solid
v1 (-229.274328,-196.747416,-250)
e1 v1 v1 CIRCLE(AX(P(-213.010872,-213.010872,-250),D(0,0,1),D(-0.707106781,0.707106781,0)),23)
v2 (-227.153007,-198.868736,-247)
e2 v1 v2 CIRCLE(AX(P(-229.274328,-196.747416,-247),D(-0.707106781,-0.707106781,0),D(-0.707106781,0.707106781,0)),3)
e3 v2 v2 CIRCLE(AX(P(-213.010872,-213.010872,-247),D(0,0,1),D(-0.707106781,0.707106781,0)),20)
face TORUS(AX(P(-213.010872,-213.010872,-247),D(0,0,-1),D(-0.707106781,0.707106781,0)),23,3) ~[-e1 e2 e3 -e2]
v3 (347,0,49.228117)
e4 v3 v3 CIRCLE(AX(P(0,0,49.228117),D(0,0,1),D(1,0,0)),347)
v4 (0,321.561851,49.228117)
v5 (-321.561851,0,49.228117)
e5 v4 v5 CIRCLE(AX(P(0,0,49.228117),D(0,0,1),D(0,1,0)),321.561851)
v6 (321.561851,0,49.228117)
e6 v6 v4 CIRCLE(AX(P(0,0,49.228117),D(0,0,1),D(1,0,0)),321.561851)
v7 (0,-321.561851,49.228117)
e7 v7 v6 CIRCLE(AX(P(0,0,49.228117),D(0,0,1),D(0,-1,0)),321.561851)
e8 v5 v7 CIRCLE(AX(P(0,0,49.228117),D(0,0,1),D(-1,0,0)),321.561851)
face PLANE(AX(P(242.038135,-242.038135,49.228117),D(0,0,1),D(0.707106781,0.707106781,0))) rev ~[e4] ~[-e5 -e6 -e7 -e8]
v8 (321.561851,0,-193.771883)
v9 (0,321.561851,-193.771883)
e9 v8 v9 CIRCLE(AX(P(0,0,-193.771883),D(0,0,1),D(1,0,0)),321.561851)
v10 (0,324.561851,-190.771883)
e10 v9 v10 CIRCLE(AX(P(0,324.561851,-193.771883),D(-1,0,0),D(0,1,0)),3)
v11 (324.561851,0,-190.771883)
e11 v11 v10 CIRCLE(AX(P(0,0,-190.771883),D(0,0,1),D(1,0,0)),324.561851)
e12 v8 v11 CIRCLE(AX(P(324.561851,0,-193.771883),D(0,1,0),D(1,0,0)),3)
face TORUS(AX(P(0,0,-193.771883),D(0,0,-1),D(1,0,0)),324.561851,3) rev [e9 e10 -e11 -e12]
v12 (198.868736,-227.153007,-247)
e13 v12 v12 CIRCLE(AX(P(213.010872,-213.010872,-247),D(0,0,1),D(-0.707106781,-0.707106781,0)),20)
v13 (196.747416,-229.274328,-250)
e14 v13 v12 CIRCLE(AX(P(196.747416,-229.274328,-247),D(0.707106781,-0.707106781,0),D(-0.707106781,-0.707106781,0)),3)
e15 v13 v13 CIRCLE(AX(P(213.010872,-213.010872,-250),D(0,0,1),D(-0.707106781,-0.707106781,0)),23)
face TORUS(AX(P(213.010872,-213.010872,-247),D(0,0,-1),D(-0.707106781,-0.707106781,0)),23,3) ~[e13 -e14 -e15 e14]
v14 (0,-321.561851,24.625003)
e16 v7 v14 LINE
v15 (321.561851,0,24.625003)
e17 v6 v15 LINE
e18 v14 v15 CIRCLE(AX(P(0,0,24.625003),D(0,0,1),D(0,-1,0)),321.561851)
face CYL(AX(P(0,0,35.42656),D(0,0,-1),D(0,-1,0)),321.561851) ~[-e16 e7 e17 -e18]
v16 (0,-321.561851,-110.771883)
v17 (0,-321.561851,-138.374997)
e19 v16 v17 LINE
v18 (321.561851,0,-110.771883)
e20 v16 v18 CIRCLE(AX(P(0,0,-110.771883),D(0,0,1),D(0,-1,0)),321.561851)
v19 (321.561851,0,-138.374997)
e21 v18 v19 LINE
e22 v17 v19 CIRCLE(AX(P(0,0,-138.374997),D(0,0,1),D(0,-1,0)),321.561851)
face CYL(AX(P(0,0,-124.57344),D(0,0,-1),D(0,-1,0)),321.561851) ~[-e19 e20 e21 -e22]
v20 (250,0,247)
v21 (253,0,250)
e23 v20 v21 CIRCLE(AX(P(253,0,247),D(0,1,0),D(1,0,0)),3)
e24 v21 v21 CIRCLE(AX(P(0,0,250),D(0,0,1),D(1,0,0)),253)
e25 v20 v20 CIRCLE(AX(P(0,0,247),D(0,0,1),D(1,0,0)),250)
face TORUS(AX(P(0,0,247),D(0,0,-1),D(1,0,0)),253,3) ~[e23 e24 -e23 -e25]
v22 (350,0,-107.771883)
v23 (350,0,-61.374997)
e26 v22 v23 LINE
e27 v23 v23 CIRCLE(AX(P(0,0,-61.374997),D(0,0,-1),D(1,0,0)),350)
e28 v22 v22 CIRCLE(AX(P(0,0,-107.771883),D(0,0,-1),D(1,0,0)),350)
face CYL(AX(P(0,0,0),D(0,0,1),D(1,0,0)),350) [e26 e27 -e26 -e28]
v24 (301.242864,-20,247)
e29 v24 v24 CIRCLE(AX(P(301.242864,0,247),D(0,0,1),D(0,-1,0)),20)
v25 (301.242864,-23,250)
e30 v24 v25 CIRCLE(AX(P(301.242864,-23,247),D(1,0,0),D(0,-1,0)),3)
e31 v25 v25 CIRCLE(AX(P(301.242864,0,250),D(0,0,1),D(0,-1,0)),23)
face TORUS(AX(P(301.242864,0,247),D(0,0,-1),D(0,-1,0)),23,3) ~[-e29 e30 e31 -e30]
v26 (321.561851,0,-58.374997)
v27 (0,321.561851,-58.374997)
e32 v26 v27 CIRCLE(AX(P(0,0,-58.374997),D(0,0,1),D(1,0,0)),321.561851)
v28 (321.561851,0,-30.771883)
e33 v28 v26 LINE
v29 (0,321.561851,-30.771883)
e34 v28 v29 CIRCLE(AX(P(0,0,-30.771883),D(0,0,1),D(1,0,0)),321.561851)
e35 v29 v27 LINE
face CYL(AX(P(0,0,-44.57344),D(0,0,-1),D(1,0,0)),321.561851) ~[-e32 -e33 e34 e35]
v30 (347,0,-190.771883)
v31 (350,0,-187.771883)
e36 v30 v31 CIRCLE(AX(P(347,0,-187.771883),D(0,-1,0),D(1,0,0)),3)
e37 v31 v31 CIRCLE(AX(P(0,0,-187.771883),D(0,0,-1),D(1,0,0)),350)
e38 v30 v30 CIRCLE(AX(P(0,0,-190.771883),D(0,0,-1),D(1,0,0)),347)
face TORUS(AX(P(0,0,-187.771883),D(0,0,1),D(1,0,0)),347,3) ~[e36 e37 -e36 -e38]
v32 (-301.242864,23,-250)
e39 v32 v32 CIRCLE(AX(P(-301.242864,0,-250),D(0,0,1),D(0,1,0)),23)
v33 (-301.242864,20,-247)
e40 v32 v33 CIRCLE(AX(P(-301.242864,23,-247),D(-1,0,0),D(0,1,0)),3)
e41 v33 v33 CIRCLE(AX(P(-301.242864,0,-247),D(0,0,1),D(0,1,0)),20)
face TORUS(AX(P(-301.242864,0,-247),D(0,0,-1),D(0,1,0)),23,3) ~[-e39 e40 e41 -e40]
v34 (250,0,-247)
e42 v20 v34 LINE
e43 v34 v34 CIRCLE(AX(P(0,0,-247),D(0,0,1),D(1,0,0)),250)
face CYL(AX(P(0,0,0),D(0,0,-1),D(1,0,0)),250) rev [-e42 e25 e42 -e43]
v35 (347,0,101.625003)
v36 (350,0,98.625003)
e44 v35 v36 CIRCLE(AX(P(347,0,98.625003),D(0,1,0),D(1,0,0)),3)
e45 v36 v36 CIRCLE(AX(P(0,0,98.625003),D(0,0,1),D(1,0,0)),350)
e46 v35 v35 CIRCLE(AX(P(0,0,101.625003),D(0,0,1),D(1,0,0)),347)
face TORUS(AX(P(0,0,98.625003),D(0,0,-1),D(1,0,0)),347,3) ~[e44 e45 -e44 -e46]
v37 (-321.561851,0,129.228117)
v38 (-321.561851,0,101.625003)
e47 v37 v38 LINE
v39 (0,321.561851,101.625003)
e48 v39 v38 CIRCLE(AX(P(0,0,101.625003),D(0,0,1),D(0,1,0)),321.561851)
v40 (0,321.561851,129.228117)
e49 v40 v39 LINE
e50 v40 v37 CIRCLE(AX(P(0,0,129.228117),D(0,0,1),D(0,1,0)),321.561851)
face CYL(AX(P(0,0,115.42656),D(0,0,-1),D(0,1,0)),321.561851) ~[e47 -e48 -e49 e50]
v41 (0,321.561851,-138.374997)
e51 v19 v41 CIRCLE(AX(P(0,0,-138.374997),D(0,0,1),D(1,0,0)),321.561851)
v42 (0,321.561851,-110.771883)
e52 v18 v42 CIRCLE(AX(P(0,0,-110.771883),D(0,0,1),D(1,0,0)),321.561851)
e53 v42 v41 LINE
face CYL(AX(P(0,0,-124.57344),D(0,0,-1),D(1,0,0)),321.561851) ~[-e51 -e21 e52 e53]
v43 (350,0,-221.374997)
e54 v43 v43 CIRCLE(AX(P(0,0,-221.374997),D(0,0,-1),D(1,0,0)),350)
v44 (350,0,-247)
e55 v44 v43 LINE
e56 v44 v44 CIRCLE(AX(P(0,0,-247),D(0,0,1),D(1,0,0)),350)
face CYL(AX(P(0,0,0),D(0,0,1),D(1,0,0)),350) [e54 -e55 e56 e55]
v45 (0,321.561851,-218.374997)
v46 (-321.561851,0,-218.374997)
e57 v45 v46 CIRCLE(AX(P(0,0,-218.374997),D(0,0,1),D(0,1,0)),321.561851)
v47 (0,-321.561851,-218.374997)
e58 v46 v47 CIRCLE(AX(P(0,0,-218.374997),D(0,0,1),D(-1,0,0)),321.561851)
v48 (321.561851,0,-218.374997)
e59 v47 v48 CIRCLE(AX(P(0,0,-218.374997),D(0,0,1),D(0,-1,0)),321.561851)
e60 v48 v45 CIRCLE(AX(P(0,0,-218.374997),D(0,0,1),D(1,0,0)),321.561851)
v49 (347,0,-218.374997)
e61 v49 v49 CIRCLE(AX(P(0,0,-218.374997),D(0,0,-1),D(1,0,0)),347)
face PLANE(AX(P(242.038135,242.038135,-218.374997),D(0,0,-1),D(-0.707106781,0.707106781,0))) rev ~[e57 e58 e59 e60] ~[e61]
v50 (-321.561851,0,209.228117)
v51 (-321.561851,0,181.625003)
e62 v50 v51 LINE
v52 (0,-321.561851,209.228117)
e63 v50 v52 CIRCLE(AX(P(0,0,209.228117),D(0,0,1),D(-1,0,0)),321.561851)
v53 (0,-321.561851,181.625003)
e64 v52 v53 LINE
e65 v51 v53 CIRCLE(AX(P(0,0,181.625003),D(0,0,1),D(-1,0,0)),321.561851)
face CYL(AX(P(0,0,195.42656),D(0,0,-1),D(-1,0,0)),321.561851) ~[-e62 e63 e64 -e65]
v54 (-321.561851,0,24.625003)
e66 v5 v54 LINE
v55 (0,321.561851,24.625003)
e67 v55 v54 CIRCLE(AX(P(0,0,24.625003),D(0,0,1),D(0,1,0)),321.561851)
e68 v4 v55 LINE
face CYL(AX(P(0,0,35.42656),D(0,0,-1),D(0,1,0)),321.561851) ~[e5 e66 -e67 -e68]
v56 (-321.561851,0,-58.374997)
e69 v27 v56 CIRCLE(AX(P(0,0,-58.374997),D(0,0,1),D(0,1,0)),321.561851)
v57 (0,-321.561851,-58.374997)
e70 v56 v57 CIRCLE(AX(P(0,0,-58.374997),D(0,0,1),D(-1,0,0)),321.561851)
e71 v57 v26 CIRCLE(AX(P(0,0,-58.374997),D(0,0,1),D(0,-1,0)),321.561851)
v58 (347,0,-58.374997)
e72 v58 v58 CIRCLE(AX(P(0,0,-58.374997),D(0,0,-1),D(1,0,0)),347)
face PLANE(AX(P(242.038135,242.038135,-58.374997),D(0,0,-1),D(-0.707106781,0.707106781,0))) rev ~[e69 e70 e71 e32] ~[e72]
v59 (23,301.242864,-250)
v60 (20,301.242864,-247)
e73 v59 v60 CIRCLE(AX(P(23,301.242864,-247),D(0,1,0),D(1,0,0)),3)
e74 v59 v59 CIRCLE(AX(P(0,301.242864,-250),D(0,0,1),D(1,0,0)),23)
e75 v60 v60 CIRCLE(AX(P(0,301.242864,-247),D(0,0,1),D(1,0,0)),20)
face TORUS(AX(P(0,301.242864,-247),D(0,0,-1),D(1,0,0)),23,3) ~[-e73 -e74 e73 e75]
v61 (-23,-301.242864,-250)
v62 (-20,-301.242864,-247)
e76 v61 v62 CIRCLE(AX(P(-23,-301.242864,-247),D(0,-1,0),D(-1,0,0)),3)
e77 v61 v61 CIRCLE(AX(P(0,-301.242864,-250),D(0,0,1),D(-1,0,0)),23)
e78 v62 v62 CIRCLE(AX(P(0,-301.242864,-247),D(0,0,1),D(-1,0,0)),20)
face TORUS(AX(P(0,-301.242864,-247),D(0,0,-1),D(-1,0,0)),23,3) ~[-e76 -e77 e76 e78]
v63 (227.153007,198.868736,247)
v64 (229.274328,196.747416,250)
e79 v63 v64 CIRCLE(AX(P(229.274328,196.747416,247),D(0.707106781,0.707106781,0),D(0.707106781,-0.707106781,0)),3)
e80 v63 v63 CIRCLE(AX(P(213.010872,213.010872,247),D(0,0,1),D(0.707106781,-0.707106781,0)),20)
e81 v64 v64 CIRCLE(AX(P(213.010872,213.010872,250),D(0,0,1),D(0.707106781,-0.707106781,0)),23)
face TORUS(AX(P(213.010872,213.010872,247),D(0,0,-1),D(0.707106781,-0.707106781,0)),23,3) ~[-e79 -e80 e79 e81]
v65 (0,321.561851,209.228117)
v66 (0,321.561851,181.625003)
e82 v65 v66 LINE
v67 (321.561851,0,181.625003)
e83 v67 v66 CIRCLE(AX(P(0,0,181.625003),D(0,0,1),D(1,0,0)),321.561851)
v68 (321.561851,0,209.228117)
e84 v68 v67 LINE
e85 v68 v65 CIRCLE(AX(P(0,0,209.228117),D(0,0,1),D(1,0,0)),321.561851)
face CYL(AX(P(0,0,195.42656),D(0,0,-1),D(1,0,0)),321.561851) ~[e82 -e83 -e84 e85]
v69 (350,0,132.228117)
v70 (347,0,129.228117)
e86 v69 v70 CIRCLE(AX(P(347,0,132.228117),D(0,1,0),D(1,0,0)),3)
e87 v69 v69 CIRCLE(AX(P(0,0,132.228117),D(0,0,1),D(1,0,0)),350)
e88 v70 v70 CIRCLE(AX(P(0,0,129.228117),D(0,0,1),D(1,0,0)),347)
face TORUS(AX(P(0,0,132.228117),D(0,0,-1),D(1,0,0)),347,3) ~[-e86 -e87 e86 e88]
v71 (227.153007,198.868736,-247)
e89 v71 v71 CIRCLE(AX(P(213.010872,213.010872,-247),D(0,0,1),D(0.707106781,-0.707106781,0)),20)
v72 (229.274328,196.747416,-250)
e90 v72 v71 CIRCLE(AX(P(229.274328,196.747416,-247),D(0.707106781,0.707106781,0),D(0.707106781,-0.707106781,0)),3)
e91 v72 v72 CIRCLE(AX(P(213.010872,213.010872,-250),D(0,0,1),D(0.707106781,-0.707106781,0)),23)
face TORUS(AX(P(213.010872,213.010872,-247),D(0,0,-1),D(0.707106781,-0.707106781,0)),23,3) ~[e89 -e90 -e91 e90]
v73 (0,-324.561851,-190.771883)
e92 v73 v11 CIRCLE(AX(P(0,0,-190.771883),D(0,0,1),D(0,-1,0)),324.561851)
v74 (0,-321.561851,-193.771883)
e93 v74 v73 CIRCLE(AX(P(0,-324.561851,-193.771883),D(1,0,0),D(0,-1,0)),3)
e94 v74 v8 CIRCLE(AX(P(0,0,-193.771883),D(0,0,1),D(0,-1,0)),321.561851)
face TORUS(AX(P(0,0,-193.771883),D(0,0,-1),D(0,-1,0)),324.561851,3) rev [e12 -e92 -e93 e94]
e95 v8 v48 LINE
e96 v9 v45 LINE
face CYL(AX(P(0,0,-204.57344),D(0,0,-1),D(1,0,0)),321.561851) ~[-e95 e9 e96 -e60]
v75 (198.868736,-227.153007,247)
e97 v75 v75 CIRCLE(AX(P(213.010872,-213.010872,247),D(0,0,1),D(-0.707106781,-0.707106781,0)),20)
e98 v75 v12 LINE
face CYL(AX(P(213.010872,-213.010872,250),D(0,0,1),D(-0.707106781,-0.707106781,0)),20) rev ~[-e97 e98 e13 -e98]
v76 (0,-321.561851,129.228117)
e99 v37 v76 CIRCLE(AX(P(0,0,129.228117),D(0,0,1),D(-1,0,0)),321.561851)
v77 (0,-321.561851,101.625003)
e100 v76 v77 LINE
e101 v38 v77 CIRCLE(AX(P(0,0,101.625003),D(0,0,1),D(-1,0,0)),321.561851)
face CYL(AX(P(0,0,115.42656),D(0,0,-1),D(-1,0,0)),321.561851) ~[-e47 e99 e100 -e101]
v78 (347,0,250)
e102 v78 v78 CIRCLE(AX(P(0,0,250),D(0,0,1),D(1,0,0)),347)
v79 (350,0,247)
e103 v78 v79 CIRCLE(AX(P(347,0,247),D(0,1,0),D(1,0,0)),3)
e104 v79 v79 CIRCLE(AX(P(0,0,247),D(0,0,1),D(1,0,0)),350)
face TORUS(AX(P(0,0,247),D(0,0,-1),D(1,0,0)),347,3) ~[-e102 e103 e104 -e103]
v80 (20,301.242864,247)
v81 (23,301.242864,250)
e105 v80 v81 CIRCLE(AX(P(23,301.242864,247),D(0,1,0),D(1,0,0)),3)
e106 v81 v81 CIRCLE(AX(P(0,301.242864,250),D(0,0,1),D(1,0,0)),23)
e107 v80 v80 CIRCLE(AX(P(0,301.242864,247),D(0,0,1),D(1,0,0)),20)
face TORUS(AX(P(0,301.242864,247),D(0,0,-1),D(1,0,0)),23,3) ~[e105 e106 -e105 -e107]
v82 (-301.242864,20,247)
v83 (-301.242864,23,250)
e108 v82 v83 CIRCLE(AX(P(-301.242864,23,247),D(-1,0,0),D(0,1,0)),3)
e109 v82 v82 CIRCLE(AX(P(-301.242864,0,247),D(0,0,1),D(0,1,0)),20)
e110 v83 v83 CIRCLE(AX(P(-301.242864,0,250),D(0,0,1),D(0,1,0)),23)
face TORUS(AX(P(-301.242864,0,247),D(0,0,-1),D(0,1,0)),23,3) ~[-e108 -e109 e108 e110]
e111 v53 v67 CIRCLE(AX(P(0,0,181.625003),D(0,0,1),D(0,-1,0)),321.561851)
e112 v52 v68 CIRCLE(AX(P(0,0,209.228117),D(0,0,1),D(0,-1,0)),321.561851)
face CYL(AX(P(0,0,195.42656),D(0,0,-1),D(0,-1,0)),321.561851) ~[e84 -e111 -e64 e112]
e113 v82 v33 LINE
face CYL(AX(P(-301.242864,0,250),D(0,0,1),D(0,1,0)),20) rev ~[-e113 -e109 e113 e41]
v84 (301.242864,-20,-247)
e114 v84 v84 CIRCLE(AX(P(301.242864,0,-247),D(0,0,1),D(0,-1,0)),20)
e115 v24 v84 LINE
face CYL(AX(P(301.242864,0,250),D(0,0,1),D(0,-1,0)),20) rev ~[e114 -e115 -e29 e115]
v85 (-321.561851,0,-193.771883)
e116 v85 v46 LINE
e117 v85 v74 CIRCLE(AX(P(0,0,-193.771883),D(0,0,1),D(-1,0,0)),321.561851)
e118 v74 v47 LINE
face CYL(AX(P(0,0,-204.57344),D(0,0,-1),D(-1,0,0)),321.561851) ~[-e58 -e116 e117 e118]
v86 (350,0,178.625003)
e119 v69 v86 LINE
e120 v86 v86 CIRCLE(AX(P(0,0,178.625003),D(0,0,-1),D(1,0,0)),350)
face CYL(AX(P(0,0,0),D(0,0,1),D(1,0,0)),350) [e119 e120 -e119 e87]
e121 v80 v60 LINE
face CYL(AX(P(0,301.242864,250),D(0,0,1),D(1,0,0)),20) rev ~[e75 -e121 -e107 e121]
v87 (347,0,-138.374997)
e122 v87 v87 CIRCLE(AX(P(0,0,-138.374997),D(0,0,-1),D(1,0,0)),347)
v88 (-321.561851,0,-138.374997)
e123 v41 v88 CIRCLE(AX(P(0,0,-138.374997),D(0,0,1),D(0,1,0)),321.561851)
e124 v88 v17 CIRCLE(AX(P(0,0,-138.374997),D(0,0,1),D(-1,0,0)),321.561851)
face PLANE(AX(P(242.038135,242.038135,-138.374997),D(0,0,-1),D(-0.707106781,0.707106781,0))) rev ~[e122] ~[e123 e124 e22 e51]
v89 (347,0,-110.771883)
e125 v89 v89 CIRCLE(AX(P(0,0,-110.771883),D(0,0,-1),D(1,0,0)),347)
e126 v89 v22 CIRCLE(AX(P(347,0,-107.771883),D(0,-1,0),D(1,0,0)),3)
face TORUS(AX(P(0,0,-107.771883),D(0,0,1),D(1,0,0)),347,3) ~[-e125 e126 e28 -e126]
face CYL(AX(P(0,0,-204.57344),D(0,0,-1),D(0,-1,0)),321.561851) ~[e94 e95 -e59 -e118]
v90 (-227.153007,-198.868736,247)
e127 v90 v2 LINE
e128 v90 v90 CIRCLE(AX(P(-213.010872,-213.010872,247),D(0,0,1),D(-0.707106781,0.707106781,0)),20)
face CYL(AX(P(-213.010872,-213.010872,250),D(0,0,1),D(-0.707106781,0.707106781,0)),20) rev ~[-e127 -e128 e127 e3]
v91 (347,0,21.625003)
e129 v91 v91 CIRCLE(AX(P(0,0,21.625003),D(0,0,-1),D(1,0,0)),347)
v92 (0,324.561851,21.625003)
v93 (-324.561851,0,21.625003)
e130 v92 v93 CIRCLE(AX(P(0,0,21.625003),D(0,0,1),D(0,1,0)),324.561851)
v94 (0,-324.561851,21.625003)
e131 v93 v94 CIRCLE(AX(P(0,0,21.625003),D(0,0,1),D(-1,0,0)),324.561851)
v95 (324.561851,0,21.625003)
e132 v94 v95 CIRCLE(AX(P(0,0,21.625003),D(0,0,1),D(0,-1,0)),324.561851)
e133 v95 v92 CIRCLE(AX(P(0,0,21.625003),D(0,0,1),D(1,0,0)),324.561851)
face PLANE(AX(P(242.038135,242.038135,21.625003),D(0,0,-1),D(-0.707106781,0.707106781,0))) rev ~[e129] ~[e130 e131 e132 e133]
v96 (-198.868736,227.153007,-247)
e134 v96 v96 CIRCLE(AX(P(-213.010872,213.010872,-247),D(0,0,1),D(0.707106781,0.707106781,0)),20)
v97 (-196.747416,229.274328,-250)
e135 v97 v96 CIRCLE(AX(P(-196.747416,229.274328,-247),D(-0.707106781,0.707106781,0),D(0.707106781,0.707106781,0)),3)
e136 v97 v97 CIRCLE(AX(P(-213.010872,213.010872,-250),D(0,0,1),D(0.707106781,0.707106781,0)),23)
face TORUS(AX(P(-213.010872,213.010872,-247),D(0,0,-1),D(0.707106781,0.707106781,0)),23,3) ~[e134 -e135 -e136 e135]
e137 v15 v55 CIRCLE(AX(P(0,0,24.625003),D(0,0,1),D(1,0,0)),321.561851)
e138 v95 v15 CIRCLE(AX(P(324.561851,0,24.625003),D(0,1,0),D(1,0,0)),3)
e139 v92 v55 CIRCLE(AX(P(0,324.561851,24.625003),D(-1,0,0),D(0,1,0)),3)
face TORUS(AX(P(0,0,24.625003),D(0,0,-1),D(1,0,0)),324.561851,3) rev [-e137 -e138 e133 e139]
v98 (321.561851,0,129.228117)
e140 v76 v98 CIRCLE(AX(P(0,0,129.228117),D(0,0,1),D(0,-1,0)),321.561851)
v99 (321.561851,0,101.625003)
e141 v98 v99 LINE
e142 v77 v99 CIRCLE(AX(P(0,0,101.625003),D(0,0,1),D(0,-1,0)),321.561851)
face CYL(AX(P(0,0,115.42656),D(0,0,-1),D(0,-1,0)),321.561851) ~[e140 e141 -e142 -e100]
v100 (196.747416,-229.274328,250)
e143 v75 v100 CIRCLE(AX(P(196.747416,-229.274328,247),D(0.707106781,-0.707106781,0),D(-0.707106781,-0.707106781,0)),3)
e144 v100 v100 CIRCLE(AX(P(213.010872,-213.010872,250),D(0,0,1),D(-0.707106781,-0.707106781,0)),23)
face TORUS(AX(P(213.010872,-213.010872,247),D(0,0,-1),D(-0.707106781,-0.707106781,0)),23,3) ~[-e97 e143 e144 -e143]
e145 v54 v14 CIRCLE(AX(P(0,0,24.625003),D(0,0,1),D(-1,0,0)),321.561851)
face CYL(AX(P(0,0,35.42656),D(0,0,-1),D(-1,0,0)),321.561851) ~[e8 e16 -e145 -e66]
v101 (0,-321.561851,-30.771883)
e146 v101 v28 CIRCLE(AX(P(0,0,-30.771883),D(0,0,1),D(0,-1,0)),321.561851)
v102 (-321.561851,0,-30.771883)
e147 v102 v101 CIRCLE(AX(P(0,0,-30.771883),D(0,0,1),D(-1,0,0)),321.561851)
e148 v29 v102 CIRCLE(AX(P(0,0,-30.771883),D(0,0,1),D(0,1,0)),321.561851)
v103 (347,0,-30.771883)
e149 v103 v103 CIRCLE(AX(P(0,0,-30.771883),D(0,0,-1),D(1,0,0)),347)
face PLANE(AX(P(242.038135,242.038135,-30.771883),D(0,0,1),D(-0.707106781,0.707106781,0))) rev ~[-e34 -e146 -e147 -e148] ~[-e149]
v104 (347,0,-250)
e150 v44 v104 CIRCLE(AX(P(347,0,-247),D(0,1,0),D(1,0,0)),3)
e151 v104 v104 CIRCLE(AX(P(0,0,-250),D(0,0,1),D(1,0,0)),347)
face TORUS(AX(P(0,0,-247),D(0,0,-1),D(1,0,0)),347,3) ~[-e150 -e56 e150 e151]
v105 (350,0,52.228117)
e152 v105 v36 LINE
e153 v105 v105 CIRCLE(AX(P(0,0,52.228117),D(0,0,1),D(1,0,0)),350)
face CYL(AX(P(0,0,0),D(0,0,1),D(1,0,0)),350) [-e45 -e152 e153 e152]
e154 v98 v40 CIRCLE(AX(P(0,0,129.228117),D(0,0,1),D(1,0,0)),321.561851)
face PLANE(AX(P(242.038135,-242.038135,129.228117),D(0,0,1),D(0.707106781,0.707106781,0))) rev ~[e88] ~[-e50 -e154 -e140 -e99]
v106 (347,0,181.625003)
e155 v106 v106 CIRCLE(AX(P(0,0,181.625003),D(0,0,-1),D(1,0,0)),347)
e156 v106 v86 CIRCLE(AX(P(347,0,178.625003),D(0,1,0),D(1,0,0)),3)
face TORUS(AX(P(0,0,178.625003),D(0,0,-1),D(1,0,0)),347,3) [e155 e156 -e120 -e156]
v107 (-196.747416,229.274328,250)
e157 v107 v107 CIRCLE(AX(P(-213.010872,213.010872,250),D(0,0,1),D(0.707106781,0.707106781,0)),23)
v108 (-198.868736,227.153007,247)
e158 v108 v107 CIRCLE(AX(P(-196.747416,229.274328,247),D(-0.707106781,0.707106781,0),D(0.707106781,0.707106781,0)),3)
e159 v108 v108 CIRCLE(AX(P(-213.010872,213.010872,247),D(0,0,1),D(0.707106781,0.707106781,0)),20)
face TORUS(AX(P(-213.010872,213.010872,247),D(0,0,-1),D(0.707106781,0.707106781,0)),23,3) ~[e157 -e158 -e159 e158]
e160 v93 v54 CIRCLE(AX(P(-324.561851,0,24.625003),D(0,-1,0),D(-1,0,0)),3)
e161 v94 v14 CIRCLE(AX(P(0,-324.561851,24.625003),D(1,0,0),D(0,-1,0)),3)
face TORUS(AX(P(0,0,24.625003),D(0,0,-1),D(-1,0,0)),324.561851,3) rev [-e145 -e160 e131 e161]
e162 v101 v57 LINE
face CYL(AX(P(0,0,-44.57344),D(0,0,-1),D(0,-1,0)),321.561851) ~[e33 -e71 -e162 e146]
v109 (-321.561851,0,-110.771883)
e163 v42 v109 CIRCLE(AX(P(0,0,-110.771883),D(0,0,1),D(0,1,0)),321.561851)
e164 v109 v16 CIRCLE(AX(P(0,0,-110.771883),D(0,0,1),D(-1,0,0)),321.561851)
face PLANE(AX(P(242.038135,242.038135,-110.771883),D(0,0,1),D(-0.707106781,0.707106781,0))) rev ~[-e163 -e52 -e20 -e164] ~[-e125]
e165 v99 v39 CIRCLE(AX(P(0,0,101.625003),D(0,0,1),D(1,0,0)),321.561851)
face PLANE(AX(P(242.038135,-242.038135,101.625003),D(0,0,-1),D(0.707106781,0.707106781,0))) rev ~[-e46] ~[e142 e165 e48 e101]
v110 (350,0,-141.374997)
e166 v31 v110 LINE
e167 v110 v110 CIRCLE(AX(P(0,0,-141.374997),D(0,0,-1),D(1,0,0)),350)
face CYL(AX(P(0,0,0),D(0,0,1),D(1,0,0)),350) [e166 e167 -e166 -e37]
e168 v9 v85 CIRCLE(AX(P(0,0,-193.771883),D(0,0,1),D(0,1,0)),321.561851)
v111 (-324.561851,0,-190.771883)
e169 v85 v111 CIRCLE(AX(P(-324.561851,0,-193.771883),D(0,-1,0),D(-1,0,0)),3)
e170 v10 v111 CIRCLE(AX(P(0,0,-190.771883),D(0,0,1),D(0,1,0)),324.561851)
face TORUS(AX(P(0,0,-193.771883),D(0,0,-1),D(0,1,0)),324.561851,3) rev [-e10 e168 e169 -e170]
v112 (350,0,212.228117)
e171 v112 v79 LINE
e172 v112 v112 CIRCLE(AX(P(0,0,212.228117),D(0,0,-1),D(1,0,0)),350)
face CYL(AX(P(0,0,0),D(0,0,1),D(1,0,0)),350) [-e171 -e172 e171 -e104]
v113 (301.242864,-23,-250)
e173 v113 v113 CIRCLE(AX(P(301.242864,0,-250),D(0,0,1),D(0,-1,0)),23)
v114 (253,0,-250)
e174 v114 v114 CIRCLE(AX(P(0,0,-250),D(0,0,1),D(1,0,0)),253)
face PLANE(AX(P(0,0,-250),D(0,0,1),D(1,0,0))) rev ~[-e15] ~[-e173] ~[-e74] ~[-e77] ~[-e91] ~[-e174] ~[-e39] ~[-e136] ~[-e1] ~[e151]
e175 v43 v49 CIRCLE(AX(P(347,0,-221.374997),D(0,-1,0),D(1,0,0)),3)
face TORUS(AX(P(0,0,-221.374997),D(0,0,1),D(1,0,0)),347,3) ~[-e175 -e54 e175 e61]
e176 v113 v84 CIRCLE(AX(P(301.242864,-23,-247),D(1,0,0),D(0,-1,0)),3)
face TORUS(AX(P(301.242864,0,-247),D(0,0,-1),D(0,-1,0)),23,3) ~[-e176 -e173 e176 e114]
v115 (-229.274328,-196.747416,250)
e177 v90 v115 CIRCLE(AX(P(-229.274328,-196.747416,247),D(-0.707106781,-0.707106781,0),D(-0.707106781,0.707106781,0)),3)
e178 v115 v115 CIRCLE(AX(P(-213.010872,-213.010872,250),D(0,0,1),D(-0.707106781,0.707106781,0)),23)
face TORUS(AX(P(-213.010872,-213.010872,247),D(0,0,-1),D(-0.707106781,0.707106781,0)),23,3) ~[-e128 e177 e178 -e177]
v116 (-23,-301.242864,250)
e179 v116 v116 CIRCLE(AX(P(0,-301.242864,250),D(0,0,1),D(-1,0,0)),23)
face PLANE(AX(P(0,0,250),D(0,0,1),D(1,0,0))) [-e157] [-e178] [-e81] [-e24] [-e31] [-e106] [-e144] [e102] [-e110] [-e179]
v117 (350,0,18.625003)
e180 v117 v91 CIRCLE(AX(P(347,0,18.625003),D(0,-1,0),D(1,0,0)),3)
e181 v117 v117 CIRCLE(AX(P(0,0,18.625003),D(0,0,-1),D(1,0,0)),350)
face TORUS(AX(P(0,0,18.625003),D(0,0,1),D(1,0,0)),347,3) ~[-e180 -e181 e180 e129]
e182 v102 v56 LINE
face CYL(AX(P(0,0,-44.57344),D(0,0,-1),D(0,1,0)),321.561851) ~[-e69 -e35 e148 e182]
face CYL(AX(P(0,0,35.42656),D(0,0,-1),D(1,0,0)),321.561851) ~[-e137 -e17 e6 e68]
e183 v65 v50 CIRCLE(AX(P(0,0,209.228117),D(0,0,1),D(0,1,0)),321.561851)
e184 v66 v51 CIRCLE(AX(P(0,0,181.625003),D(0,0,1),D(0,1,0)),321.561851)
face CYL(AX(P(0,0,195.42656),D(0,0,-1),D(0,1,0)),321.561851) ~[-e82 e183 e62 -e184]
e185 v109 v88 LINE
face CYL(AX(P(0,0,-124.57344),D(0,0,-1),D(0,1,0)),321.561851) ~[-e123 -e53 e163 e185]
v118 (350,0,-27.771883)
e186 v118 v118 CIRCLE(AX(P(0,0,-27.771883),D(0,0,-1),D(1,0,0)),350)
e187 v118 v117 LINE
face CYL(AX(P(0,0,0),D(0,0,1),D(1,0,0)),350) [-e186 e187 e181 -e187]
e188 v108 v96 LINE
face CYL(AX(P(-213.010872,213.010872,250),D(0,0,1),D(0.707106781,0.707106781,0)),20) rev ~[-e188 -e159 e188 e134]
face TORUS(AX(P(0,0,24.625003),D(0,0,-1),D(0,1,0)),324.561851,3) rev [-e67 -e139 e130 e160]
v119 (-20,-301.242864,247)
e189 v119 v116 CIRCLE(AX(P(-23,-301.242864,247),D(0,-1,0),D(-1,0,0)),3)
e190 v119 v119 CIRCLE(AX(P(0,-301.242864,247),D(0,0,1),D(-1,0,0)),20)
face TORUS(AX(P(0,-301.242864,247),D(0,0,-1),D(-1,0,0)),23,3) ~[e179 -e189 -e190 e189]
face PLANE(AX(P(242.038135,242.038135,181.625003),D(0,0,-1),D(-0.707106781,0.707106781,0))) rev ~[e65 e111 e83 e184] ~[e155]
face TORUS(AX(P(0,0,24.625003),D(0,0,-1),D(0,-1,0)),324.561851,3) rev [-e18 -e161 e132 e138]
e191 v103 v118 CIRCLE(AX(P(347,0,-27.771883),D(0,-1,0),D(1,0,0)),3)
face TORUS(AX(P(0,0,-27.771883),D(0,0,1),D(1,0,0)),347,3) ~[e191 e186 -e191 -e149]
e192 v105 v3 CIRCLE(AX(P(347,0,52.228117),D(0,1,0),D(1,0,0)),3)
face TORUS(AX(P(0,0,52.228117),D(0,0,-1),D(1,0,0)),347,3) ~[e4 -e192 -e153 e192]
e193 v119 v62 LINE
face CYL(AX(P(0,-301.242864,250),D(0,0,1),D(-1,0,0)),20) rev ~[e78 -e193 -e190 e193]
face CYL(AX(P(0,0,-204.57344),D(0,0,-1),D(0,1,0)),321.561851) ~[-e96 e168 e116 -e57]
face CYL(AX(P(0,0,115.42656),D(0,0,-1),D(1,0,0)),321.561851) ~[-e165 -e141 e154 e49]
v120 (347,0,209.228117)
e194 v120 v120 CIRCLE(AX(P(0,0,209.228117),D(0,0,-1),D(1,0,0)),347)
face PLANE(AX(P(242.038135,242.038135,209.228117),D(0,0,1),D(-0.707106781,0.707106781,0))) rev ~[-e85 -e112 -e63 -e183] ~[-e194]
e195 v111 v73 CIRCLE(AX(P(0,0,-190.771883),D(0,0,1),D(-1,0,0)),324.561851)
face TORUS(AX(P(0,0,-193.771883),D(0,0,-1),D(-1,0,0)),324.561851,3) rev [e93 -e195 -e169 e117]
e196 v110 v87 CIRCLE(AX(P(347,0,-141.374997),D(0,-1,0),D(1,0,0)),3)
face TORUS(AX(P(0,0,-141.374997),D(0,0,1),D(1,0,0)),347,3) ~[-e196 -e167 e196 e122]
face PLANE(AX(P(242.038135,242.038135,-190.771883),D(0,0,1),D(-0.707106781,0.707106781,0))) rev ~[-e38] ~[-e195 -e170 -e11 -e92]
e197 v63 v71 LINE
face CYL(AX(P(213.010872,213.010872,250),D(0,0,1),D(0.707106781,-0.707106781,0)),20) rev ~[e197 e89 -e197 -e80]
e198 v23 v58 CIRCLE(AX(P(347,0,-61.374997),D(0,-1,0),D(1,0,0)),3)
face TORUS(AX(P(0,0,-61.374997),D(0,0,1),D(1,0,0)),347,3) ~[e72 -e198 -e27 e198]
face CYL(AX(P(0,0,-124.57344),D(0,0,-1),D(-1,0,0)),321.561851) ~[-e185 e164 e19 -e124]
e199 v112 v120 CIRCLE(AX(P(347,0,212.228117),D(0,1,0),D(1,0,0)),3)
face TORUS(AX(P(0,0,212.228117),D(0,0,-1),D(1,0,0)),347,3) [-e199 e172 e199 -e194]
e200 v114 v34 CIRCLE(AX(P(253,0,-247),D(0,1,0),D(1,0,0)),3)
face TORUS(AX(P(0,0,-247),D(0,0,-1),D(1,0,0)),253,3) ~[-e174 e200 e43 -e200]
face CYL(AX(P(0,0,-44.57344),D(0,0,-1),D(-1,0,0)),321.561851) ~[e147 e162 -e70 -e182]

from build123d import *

# Parameters (mm, degrees)
SKETCH1_R           = 350
SKETCH1_R_2         = 250
BOSS_EXTRUDE1_DEPTH = 250
SKETCH2_W           = 27.603113623
SKETCH2_H           = 41.463524477
LPATTERN1_COUNT     = 6
LPATTERN1_PITCH     = 80
SKETCH3_R           = 20
CUT_EXTRUDE1_DEPTH  = 500
CIRPATTERN1_COUNT   = 8
FILLET1_R           = 3


with BuildPart() as part:
    # Sketch1 → Boss-Extrude1 (new, symmetric)
    with BuildSketch(Plane.XY):
        Circle(SKETCH1_R)
        Circle(SKETCH1_R_2, mode=Mode.SUBTRACT)
    extrude(amount=BOSS_EXTRUDE1_DEPTH, both=True)

    # Cut-Sweep1: sweep along a curve in space
    with BuildLine() as cut_sweep1_path:
        ThreePointArc((350, 0, 250), (247.487373415, 247.487373415, 250), (0, 350, 250))
        ThreePointArc((0, 350, 250), (-247.487373415, 247.487373415, 250), (-350, 0, 250))
        ThreePointArc((-350, 0, 250), (-247.487373415, -247.487373415, 250), (0, -350, 250))
        ThreePointArc((0, -350, 250), (247.487373415, -247.487373415, 250), (350, 0, 250))
    # Sketch2 → Cut-Sweep1 (sweep, cut)
    with BuildSketch(Plane(origin=(0, 0, 0), x_dir=(0, 0, -1), z_dir=(1, 0, 0))):
        with Locations((-195.42656015, 342.293613499)):
            Rectangle(SKETCH2_W, SKETCH2_H)
    cut_sweep1 = sweep(path=cut_sweep1_path.line, mode=Mode.SUBTRACT)

    # LPattern1: Cut-Sweep1 ×6
    with Locations(*[(0, 0, -i * LPATTERN1_PITCH) for i in range(1, LPATTERN1_COUNT)]):
        add(cut_sweep1, mode=Mode.SUBTRACT)

    # Sketch3 → Cut-Extrude1 (cut)
    with BuildSketch(Plane.XY.offset(250)):
        with Locations((0, 301.242863877)):
            Circle(SKETCH3_R)
    cut_extrude1 = extrude(amount=-CUT_EXTRUDE1_DEPTH, mode=Mode.SUBTRACT)

    # CirPattern1: Cut-Extrude1 ×8 about axis
    cirpattern1_axis = Axis((0, 0, 0), (0, 0, 1))
    for i in range(1, CIRPATTERN1_COUNT):
        add(cut_extrude1.rotate(cirpattern1_axis, i * 360 / CIRPATTERN1_COUNT), mode=Mode.SUBTRACT)

    # Fillet1
    fillet1_edges = [part.edges().sort_by_distance(p)[0] for p in [
        (-350, 0, 209.228116961),
        (-350, 0, 181.625003338),
        (-350, 0, 129.228116961),
        (-350, 0, 101.625003338),
        (-350, 0, -250),
        (-350, 0, 49.228116961),
        (-350, 0, 21.625003338),
        (0, 321.56185126, 21.625003338),
        (-350, 0, -30.771883039),
        (-350, 0, -58.374996662),
        (-350, 0, -110.771883039),
        (-350, 0, -138.374996662),
        (-350, 0, 250),
        (0, 321.56185126, -190.771883039),
        (-350, 0, -190.771883039),
        (-350, 0, -218.374996662),
        (-250, 0, -250),
        (-20, 301.242863877, -250),
        (-20, 301.242863877, 250),
        (-250, 0, 250),
        (-227.153007455, 198.868736207, 250),
        (-227.153007455, 198.868736207, -250),
        (-301.242863877, -20, 250),
        (-301.242863877, -20, -250),
        (-198.868736207, -227.153007455, 250),
        (-198.868736207, -227.153007455, -250),
        (20, -301.242863877, 250),
        (20, -301.242863877, -250),
        (227.153007455, -198.868736207, 250),
        (227.153007455, -198.868736207, -250),
        (301.242863877, 20, 250),
        (301.242863877, 20, -250),
        (198.868736207, 227.153007455, 250),
        (198.868736207, 227.153007455, -250),
    ]]
    fillet(fillet1_edges, radius=FILLET1_R)


solid = part.part
